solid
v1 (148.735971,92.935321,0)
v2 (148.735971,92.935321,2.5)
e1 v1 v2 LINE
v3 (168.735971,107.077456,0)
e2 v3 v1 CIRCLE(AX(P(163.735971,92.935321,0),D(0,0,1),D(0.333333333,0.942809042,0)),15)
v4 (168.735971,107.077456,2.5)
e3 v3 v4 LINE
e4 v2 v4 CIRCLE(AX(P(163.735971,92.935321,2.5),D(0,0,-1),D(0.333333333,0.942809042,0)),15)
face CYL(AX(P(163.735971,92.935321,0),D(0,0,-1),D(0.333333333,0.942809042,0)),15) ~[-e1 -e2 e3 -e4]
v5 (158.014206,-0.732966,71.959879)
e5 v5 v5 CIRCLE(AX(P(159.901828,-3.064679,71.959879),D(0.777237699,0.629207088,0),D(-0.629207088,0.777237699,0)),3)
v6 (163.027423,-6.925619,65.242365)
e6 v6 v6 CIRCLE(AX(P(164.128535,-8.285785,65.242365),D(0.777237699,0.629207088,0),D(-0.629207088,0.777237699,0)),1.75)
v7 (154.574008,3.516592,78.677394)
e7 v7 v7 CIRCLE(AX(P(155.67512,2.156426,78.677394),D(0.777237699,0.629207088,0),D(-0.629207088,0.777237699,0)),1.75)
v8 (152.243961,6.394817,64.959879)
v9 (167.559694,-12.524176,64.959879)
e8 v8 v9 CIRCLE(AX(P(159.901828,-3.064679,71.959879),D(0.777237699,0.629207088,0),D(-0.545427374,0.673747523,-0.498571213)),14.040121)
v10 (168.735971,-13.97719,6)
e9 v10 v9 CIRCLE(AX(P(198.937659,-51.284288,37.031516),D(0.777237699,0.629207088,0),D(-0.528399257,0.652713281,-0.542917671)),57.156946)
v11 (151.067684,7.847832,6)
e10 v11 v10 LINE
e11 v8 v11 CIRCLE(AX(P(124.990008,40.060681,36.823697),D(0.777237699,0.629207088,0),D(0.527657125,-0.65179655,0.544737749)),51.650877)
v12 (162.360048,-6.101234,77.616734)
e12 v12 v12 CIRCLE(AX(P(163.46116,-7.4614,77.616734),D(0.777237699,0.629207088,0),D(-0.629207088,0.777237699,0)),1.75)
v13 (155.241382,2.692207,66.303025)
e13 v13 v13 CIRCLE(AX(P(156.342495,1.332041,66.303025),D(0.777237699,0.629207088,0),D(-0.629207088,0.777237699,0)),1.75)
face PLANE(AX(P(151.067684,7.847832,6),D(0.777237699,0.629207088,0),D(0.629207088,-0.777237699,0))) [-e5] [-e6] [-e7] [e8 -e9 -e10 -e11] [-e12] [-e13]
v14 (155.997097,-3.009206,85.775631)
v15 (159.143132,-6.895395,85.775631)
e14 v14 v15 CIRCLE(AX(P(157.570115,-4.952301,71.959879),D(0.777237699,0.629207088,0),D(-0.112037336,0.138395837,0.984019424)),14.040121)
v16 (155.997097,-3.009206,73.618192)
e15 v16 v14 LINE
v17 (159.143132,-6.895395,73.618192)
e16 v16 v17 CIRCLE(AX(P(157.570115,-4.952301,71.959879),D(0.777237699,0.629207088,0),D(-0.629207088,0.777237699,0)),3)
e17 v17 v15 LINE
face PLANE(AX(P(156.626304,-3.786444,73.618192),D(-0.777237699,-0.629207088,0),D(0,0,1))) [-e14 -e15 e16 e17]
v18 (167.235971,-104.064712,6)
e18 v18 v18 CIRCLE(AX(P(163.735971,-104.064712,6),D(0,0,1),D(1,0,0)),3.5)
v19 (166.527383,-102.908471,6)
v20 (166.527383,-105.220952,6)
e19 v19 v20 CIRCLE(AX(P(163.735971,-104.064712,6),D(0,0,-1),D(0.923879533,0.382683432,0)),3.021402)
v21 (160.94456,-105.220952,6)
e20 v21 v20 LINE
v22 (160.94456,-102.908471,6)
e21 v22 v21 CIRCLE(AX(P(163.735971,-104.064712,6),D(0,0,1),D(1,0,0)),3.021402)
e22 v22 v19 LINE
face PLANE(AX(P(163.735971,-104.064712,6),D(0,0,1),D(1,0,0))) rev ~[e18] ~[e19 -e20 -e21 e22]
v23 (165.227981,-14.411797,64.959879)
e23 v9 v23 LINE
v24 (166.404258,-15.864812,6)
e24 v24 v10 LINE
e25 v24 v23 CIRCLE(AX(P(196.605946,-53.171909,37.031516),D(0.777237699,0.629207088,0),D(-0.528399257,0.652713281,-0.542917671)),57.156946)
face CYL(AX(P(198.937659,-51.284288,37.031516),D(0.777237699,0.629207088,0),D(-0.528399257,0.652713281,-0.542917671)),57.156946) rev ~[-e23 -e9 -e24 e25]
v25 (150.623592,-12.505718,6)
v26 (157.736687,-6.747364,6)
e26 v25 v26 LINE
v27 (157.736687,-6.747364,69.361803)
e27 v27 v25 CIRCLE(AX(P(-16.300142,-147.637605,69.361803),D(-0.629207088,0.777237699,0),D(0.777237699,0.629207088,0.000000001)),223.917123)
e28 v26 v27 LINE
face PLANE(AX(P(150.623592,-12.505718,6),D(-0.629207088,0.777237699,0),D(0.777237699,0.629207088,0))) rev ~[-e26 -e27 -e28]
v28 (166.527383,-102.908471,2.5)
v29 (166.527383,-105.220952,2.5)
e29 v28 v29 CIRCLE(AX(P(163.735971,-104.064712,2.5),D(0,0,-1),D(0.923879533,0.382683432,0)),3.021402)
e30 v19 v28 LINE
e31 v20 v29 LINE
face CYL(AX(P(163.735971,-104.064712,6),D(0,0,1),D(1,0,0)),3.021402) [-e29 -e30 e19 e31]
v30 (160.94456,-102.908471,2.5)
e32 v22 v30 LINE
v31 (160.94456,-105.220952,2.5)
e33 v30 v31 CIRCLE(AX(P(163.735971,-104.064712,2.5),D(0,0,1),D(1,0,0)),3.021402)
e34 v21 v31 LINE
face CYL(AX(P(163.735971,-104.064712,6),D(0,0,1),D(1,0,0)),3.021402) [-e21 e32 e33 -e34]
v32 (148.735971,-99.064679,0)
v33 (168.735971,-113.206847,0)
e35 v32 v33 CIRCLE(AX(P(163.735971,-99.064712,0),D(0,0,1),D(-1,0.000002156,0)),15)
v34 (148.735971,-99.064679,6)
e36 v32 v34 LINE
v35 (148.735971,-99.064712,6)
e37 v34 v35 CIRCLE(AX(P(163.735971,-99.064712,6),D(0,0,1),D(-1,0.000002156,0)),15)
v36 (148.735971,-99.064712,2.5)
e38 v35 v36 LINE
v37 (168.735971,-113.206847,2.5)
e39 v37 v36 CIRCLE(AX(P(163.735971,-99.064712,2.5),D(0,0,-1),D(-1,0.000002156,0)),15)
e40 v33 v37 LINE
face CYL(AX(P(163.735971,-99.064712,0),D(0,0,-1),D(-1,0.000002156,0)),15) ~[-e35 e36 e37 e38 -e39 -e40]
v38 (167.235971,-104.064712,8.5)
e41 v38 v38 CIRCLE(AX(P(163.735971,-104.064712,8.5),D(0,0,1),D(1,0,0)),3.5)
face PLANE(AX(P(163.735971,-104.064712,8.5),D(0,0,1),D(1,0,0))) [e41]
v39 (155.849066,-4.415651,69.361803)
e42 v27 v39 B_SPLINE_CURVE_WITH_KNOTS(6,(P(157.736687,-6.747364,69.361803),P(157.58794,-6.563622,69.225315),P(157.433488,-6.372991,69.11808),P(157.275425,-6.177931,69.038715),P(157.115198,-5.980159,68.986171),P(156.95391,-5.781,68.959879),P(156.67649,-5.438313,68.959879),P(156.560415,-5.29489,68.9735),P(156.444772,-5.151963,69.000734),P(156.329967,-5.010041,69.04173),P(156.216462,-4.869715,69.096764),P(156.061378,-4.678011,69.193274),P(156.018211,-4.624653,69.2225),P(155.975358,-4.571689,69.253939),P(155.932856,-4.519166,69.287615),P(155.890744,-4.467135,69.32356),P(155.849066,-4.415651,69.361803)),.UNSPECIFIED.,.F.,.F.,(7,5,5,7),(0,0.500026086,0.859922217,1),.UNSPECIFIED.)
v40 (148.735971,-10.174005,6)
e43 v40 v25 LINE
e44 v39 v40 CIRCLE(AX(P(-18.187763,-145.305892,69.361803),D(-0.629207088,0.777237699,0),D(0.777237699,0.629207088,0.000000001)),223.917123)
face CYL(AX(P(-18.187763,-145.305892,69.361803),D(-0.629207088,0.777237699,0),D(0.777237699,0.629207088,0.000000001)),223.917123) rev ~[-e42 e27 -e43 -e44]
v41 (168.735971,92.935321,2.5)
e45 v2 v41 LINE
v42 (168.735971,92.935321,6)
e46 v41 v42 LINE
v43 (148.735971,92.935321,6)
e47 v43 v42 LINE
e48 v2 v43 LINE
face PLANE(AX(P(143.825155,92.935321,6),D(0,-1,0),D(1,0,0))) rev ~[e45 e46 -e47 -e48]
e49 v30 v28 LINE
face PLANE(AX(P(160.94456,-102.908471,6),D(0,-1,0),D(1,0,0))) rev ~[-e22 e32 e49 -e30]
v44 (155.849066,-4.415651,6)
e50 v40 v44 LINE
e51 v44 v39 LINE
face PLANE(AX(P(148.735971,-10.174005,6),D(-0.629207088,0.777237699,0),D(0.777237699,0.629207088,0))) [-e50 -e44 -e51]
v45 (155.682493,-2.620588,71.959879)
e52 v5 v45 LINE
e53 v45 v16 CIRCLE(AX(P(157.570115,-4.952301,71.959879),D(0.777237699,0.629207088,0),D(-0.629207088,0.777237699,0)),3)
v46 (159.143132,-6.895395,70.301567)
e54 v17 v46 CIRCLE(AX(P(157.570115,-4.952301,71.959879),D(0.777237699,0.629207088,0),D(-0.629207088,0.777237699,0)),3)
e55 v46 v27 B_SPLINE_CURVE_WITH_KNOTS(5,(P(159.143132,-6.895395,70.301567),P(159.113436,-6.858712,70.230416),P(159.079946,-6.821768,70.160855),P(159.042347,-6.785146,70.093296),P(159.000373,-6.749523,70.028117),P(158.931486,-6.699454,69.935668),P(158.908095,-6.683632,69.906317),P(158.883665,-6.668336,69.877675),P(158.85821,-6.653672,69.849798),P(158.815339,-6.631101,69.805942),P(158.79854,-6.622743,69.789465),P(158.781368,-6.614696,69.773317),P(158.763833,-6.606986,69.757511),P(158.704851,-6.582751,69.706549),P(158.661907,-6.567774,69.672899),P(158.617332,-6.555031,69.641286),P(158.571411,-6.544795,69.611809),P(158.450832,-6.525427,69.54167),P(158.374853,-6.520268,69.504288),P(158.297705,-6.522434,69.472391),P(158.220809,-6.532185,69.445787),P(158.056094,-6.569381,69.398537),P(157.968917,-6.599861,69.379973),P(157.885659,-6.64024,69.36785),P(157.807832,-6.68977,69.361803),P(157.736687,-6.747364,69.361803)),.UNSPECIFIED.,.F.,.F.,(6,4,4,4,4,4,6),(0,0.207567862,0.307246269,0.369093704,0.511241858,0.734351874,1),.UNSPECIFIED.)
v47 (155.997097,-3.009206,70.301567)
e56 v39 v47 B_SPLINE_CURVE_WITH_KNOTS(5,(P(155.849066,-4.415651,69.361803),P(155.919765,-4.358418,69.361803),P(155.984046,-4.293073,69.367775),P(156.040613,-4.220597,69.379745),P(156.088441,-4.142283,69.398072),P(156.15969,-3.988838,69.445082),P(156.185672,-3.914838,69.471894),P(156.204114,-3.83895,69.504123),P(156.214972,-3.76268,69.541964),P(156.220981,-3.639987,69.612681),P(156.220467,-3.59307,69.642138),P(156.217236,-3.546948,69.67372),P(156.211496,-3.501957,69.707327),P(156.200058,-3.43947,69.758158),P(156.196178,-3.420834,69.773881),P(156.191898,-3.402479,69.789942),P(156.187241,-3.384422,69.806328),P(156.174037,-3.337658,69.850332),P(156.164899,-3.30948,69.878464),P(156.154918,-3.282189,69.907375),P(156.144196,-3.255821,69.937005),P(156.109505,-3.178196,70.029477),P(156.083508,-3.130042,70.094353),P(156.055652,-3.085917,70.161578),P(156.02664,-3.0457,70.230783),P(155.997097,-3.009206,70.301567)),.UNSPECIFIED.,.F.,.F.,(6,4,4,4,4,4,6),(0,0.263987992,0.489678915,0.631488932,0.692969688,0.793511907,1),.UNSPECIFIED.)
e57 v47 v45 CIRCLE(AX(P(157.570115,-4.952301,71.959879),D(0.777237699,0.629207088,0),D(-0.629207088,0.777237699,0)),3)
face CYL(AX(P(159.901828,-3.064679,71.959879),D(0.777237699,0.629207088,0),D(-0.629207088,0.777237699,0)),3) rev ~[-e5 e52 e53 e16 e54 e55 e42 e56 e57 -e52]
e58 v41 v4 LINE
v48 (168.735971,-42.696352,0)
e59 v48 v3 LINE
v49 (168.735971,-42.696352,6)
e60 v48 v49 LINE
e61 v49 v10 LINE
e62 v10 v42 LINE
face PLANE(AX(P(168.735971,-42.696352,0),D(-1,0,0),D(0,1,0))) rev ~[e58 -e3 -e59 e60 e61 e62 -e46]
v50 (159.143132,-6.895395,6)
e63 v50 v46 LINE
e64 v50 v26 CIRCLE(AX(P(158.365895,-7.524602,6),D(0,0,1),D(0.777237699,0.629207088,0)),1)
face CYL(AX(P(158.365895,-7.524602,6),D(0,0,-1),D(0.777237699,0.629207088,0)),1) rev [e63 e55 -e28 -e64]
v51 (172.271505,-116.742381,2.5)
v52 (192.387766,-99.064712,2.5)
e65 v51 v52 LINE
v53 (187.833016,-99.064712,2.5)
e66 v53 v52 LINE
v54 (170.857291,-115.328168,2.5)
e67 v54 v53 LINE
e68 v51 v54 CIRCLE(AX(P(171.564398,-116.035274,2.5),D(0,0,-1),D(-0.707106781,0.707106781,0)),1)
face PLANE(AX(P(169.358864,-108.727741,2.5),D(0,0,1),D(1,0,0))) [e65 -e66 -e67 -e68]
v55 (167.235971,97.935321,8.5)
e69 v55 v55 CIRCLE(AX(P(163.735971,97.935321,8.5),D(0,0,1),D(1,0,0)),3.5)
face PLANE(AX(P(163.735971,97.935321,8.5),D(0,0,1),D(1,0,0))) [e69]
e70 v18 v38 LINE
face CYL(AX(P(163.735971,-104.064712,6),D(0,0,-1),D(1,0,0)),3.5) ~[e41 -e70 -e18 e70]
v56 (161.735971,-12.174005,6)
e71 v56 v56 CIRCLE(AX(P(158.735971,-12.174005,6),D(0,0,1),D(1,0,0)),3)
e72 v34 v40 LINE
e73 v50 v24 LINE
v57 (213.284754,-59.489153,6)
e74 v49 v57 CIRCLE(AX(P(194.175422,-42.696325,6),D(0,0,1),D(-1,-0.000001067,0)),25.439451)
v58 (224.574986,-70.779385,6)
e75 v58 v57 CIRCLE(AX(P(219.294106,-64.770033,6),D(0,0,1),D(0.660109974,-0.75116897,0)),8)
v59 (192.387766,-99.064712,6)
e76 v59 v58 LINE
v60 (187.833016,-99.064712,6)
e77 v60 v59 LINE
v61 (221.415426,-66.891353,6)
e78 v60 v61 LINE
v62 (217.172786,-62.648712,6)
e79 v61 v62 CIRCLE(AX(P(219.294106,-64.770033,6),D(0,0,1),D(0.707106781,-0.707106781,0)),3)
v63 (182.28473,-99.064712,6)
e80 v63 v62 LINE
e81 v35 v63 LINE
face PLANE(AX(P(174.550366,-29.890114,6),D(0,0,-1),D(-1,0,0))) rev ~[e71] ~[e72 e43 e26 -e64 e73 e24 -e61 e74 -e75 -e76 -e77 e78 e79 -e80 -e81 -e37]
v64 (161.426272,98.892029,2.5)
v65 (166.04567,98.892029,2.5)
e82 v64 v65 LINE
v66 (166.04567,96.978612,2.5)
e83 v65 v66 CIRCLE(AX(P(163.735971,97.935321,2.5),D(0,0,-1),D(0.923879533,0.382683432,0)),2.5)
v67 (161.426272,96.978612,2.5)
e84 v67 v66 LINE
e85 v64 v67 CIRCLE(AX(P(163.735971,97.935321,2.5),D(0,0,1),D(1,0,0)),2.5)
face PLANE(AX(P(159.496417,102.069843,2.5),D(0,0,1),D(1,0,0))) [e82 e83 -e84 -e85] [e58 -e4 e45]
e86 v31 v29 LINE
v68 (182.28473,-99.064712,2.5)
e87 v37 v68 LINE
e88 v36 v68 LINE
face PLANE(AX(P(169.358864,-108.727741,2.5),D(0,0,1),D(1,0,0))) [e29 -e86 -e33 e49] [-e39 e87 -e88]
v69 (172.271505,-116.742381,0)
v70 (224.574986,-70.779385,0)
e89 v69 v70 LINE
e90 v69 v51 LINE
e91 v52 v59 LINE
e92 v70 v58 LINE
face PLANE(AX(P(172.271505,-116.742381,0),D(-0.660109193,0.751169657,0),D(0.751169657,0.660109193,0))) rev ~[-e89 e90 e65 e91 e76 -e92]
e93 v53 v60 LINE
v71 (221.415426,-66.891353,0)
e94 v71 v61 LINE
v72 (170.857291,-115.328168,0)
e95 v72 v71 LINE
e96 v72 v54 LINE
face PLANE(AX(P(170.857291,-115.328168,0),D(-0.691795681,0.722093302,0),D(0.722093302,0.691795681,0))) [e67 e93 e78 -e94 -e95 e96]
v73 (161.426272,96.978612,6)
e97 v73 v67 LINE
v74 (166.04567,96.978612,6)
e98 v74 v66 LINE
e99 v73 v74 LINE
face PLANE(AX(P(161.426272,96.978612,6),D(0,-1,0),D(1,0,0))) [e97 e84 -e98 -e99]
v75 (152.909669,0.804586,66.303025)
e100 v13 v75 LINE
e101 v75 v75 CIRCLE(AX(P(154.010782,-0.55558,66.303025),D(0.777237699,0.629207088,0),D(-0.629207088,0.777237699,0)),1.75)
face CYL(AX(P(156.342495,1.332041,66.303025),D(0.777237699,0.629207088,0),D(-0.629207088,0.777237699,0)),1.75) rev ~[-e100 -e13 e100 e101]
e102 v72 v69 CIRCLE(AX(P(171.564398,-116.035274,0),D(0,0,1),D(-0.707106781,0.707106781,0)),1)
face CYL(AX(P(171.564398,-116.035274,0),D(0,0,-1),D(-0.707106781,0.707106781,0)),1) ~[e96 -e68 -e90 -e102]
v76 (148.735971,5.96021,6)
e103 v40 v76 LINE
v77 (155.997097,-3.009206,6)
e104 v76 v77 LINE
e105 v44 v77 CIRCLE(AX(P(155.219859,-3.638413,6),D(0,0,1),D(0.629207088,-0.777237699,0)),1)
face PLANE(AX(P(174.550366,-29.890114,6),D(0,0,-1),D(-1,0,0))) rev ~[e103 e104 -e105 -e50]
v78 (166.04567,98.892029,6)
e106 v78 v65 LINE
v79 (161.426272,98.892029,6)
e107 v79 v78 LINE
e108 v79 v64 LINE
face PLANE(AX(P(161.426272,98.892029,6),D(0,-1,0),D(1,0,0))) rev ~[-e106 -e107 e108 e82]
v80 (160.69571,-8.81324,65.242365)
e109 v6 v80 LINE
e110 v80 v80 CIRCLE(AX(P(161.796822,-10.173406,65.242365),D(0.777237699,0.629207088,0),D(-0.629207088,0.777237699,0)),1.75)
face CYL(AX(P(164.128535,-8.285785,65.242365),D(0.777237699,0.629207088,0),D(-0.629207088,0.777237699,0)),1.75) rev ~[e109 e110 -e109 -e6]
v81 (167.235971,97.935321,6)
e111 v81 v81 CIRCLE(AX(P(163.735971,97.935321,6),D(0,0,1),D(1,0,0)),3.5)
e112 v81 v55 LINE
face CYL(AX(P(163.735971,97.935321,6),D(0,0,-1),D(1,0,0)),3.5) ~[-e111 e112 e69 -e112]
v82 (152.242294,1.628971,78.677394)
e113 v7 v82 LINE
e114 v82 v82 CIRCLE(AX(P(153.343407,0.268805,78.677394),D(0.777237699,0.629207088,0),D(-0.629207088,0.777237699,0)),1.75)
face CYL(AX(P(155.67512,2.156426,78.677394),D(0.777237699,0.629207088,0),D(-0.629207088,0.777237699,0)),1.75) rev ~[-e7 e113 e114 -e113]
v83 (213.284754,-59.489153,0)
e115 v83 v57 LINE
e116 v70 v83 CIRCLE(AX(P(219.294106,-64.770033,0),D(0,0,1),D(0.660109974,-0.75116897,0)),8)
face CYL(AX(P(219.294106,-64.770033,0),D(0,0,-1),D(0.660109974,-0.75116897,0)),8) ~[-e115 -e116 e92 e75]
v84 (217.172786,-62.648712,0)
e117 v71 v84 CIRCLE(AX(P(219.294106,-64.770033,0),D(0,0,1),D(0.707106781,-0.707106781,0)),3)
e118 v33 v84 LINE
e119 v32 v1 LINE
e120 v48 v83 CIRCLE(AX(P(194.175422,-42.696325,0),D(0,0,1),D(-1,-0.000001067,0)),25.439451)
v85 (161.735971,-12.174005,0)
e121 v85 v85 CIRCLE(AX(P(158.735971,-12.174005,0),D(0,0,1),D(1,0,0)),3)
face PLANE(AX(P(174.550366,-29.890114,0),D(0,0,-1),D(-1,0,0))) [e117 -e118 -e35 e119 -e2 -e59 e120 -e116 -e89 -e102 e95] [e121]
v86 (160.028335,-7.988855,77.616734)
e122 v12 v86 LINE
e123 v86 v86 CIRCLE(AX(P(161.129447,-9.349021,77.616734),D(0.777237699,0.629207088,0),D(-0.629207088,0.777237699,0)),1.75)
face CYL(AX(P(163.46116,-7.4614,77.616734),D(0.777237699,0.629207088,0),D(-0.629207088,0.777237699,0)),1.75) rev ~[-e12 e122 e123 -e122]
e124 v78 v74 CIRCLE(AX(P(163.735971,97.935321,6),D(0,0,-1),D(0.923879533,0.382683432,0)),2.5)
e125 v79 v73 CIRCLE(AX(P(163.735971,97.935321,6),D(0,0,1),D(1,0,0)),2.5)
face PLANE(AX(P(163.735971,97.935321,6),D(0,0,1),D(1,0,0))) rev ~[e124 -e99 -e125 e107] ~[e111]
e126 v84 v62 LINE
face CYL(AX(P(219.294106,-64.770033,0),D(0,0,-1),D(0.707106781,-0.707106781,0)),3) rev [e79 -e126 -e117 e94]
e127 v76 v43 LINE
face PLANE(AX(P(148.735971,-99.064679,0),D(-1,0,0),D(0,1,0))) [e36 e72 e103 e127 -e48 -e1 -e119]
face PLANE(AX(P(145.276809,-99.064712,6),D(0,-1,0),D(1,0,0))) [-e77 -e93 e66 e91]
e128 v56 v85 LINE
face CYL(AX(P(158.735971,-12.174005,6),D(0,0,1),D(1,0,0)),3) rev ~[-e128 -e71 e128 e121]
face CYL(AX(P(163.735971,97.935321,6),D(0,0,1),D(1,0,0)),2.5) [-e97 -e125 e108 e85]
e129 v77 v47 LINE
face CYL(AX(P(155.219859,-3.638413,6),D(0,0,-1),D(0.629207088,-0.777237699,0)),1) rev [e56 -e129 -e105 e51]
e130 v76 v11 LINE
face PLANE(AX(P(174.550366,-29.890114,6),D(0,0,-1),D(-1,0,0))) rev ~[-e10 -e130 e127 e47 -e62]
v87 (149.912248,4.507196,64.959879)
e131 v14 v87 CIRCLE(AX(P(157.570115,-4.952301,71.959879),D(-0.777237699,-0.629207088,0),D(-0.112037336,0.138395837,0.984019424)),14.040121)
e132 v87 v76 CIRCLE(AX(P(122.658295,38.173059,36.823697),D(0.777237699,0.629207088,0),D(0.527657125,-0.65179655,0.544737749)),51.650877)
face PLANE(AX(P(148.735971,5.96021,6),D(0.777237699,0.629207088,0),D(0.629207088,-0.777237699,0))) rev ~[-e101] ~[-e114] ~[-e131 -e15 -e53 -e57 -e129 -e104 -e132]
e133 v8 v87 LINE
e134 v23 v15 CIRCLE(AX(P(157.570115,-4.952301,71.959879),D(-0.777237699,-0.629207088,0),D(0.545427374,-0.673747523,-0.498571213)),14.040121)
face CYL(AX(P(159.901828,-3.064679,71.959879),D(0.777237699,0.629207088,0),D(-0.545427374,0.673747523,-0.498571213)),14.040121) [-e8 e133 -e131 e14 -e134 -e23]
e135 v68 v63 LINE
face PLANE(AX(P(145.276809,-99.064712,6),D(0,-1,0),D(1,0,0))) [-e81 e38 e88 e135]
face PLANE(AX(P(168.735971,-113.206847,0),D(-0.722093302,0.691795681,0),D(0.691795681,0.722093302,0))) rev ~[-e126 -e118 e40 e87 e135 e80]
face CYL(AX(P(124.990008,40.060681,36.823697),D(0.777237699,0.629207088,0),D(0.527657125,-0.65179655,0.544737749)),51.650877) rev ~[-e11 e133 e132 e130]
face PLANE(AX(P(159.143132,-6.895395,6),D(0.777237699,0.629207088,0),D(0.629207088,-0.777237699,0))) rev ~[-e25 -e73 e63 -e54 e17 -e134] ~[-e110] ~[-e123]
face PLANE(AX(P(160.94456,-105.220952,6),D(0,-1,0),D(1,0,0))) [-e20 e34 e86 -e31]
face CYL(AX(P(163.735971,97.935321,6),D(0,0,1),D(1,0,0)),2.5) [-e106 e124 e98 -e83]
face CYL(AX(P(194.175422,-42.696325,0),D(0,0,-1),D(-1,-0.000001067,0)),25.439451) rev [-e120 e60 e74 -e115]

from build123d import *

# Parameters (mm, degrees)
PAD_DEPTH       = 6
SKETCH001_W     = 31.342523
SKETCH001_H     = 18.2690453429
SKETCH001_R     = 2.5
POCKET_DEPTH    = 3.5
SKETCH013_W     = 48.164109
SKETCH013_H     = 19.3260583096
SKETCH013_R     = 3.021402
POCKET008_DEPTH = 3.5
PAD001_DEPTH    = 80
POCKET009_DEPTH = 3
SKETCH015_R     = 3
SKETCH015_R_2   = 1.75
POCKET010_DEPTH = 80.3906309058
POCKET011_DEPTH = 5.5
POCKET012_DEPTH = 3.5
POCKET013_DEPTH = 3.5
SKETCH022_R     = 3.5
PAD002_DEPTH    = 2.5
SKETCH023_R     = 3.5
PAD003_DEPTH    = 2.5
SKETCH024_R     = 3
POCKET014_DEPTH = 6.001


with BuildPart() as part:
    # Sketch → Pad (new body)
    with BuildSketch(Plane.XY):
        with BuildLine():
            Line((148.7359710531, -99.0646793429), (148.7359710531, 92.9353206571))
            ThreePointArc((168.7359710531, 107.0774562808), (155.0757170152, 105.182769371), (148.7359710531, 92.9353206571))
            Line((168.7359710531, -42.6963517772), (168.7359710531, 107.0774562808))
            ThreePointArc((168.7359710531, -42.6963517772), (185.2022873789, -66.5007048599), (213.2847541452, -59.4891530095))
            ThreePointArc((224.5749857013, -70.7793845656), (224.9509601574, -59.1131785534), (213.2847541452, -59.4891530095))
            Line((172.271504959, -116.7423812201), (224.5749857013, -70.7793845656))
            ThreePointArc((170.8572913966, -115.3281676577), (170.8572913966, -116.7423812201), (172.271504959, -116.7423812201))
            Line((170.8572913966, -115.3281676577), (221.4154262515, -66.8913531464))
            ThreePointArc((221.4154262515, -66.8913531464), (221.4154262515, -62.6487124593), (217.1727855643, -62.6487124593))
            Line((168.7359710531, -113.2068473142), (217.1727855643, -62.6487124593))
            ThreePointArc((148.7359710531, -99.0646793429), (155.0757038094, -111.3121510664), (168.7359710531, -113.2068473142))
        make_face()
    extrude(amount=PAD_DEPTH)

    # Sketch001 → Pocket (cut)
    with BuildSketch(Plane.XY.offset(6)):
        with Locations((159.4964165, 102.0698433285)):
            Rectangle(SKETCH001_W, SKETCH001_H)
        with Locations((163.7359710531, 97.9353206571)):
            Circle(SKETCH001_R, mode=Mode.SUBTRACT)
    extrude(amount=-POCKET_DEPTH, mode=Mode.SUBTRACT)

    # Sketch013 → Pocket008 (cut)
    with BuildSketch(Plane.XY.offset(6)):
        with Locations((169.3588635, -108.7277408452)):
            Rectangle(SKETCH013_W, SKETCH013_H)
        with Locations((163.7359710531, -104.0647116904)):
            Circle(SKETCH013_R, mode=Mode.SUBTRACT)
    extrude(amount=-POCKET008_DEPTH, mode=Mode.SUBTRACT)

    # Sketch014 → Pad001 (new body)
    with BuildSketch(Plane.XY.offset(6)):
        with BuildLine():
            Line((148.7359710531, 5.9602104844), (155.9970967848, -3.0092063605))
            ThreePointArc((155.849066174, -4.4156511472), (156.2143657321, -3.7430868972), (155.9970967848, -3.0092063605))
            Line((148.7359710531, -10.174005219), (155.849066174, -4.4156511472))
            Line((148.7359710531, -10.174005219), (150.6235923171, -12.5057183154))
            Line((150.6235923171, -12.5057183154), (157.7366874381, -6.7473642436))
            ThreePointArc((159.1431322249, -6.8953948544), (158.4705679748, -6.5300952963), (157.7366874381, -6.7473642436))
            Line((159.1431322249, -6.8953948544), (166.4042579566, -15.8648116991))
            Line((166.4042579566, -15.8648116991), (168.7359710531, -13.9771904352))
            Line((151.0676841499, 7.8478317492), (168.7359710531, -13.9771904352))
            Line((148.7359710531, 5.9602104844), (151.0676841499, 7.8478317492))
        make_face()
    extrude(amount=PAD001_DEPTH)

    # Sketch016 → Pocket009 (cut)
    with BuildSketch(Plane(origin=(95.0976832559, 76.9856331596, 0), x_dir=(-0.629207088, 0.7772376988, 0), z_dir=(0.7772376988, 0.629207088, 0))):
        with BuildLine():
            ThreePointArc((-90.8226866435, 64.9598793146), (-102.9933476305, 86), (-115.1640086175, 64.9598793146))
            ThreePointArc((-117.0334683159, 6), (-107.9048310085, 35.2201328201), (-115.1640086175, 64.9598793146))
            Line((-117.0334683159, 6), (-129.946838, 10.190964))
            Line((-129.946838, 10.190964), (-129.946838, 98.716408))
            Line((-129.946838, 98.716408), (-69.304048, 98.716408))
            Line((-69.304048, 98.716408), (-45.866948, 9.880296))
            Line((-45.866948, 9.880296), (-88.9532269451, 6))
            ThreePointArc((-90.8226866435, 64.9598793146), (-99.1328607178, 35.18680854), (-88.9532269451, 6))
        make_face()
    extrude(amount=-POCKET009_DEPTH, mode=Mode.SUBTRACT)

    # Sketch015 → Pocket010 (cut, through all)
    with BuildSketch(Plane(origin=(95.0976832559, 76.9856331596, 0), x_dir=(-0.629207088, 0.7772376988, 0), z_dir=(0.7772376988, 0.629207088, 0))):
        with Locations((-102.9933476305, 71.9598793146)):
            Circle(SKETCH015_R)
        with Locations((-96.2758332092, 78.6773937359)):
            Circle(SKETCH015_R_2)
        with Locations((-108.65020188, 77.6167335641)):
            Circle(SKETCH015_R_2)
        with Locations((-109.7108620518, 65.2423648933)):
            Circle(SKETCH015_R_2)
        with Locations((-97.336493381, 66.3030250651)):
            Circle(SKETCH015_R_2)
    extrude(amount=-POCKET010_DEPTH, mode=Mode.SUBTRACT)

    # Sketch017 → Pocket011 (cut, symmetric)
    with BuildSketch(Plane(origin=(63.8603337123, -78.8844559543, 0), x_dir=(-0.7772376988, -0.629207088, 0), z_dir=(-0.629207088, 0.7772376988, 0))):
        with BuildLine():
            ThreePointArc((-118.353410552, 69.3618031032), (-116.0536600062, 37.3521449631), (-109.2016476719, 6.0000000001))
            Line((-98.802281, 97.315555), (-109.2016476718, 6))
            Line((-119.353410552, 97.315555), (-98.802281, 97.315555))
            Line((-119.353410552, 73.6181917099), (-119.353410552, 97.315555))
            Line((-118.353410552, 69.3618031032), (-119.353410552, 73.6181917099))
        make_face()
    extrude(amount=POCKET011_DEPTH, both=True, mode=Mode.SUBTRACT)

    # Sketch020 → Pocket012 (cut)
    with BuildSketch(Plane.XY.offset(6)):
        with BuildLine():
            ThreePointArc((166.0456698843, 98.892029238), (163.7359710531, 100.4353206571), (161.4262722218, 98.892029238))
            Line((161.4262722218, 98.892029238), (166.0456698843, 98.892029238))
        make_face()
        with BuildLine():
            ThreePointArc((161.4262722218, 96.9786120762), (163.7359710531, 95.4353206571), (166.0456698843, 96.9786120762))
            Line((161.4262722218, 96.9786120762), (166.0456698843, 96.9786120762))
        make_face()
    extrude(amount=-POCKET012_DEPTH, mode=Mode.SUBTRACT)

    # Sketch021 → Pocket013 (cut)
    with BuildSketch(Plane.XY.offset(6)):
        with BuildLine():
            ThreePointArc((166.5273825204, -102.9084712025), (163.7359710531, -101.0433096904), (160.9445595858, -102.9084712025))
            Line((160.9445595858, -102.9084712025), (166.5273825204, -102.9084712025))
        make_face()
        with BuildLine():
            ThreePointArc((160.9445595858, -105.2209521783), (163.7359710531, -107.0861136904), (166.5273825204, -105.2209521783))
            Line((160.9445595858, -105.2209521783), (166.5273825204, -105.2209521783))
        make_face()
    extrude(amount=-POCKET013_DEPTH, mode=Mode.SUBTRACT)

    # Sketch022 → Pad002 (new body)
    with BuildSketch(Plane.XY.offset(6)):
        with Locations((163.7359710531, 97.9353206571)):
            Circle(SKETCH022_R)
    extrude(amount=PAD002_DEPTH)

    # Sketch023 → Pad003 (new body)
    with BuildSketch(Plane.XY.offset(6)):
        with Locations((163.7359710531, -104.0647116904)):
            Circle(SKETCH023_R)
    extrude(amount=PAD003_DEPTH)

    # Sketch024 → Pocket014 (cut, through all)
    with BuildSketch(Plane.XY.offset(6)):
        with Locations((158.7359710531, -12.174005219)):
            Circle(SKETCH024_R)
    extrude(amount=-POCKET014_DEPTH, mode=Mode.SUBTRACT)


solid = part.part
